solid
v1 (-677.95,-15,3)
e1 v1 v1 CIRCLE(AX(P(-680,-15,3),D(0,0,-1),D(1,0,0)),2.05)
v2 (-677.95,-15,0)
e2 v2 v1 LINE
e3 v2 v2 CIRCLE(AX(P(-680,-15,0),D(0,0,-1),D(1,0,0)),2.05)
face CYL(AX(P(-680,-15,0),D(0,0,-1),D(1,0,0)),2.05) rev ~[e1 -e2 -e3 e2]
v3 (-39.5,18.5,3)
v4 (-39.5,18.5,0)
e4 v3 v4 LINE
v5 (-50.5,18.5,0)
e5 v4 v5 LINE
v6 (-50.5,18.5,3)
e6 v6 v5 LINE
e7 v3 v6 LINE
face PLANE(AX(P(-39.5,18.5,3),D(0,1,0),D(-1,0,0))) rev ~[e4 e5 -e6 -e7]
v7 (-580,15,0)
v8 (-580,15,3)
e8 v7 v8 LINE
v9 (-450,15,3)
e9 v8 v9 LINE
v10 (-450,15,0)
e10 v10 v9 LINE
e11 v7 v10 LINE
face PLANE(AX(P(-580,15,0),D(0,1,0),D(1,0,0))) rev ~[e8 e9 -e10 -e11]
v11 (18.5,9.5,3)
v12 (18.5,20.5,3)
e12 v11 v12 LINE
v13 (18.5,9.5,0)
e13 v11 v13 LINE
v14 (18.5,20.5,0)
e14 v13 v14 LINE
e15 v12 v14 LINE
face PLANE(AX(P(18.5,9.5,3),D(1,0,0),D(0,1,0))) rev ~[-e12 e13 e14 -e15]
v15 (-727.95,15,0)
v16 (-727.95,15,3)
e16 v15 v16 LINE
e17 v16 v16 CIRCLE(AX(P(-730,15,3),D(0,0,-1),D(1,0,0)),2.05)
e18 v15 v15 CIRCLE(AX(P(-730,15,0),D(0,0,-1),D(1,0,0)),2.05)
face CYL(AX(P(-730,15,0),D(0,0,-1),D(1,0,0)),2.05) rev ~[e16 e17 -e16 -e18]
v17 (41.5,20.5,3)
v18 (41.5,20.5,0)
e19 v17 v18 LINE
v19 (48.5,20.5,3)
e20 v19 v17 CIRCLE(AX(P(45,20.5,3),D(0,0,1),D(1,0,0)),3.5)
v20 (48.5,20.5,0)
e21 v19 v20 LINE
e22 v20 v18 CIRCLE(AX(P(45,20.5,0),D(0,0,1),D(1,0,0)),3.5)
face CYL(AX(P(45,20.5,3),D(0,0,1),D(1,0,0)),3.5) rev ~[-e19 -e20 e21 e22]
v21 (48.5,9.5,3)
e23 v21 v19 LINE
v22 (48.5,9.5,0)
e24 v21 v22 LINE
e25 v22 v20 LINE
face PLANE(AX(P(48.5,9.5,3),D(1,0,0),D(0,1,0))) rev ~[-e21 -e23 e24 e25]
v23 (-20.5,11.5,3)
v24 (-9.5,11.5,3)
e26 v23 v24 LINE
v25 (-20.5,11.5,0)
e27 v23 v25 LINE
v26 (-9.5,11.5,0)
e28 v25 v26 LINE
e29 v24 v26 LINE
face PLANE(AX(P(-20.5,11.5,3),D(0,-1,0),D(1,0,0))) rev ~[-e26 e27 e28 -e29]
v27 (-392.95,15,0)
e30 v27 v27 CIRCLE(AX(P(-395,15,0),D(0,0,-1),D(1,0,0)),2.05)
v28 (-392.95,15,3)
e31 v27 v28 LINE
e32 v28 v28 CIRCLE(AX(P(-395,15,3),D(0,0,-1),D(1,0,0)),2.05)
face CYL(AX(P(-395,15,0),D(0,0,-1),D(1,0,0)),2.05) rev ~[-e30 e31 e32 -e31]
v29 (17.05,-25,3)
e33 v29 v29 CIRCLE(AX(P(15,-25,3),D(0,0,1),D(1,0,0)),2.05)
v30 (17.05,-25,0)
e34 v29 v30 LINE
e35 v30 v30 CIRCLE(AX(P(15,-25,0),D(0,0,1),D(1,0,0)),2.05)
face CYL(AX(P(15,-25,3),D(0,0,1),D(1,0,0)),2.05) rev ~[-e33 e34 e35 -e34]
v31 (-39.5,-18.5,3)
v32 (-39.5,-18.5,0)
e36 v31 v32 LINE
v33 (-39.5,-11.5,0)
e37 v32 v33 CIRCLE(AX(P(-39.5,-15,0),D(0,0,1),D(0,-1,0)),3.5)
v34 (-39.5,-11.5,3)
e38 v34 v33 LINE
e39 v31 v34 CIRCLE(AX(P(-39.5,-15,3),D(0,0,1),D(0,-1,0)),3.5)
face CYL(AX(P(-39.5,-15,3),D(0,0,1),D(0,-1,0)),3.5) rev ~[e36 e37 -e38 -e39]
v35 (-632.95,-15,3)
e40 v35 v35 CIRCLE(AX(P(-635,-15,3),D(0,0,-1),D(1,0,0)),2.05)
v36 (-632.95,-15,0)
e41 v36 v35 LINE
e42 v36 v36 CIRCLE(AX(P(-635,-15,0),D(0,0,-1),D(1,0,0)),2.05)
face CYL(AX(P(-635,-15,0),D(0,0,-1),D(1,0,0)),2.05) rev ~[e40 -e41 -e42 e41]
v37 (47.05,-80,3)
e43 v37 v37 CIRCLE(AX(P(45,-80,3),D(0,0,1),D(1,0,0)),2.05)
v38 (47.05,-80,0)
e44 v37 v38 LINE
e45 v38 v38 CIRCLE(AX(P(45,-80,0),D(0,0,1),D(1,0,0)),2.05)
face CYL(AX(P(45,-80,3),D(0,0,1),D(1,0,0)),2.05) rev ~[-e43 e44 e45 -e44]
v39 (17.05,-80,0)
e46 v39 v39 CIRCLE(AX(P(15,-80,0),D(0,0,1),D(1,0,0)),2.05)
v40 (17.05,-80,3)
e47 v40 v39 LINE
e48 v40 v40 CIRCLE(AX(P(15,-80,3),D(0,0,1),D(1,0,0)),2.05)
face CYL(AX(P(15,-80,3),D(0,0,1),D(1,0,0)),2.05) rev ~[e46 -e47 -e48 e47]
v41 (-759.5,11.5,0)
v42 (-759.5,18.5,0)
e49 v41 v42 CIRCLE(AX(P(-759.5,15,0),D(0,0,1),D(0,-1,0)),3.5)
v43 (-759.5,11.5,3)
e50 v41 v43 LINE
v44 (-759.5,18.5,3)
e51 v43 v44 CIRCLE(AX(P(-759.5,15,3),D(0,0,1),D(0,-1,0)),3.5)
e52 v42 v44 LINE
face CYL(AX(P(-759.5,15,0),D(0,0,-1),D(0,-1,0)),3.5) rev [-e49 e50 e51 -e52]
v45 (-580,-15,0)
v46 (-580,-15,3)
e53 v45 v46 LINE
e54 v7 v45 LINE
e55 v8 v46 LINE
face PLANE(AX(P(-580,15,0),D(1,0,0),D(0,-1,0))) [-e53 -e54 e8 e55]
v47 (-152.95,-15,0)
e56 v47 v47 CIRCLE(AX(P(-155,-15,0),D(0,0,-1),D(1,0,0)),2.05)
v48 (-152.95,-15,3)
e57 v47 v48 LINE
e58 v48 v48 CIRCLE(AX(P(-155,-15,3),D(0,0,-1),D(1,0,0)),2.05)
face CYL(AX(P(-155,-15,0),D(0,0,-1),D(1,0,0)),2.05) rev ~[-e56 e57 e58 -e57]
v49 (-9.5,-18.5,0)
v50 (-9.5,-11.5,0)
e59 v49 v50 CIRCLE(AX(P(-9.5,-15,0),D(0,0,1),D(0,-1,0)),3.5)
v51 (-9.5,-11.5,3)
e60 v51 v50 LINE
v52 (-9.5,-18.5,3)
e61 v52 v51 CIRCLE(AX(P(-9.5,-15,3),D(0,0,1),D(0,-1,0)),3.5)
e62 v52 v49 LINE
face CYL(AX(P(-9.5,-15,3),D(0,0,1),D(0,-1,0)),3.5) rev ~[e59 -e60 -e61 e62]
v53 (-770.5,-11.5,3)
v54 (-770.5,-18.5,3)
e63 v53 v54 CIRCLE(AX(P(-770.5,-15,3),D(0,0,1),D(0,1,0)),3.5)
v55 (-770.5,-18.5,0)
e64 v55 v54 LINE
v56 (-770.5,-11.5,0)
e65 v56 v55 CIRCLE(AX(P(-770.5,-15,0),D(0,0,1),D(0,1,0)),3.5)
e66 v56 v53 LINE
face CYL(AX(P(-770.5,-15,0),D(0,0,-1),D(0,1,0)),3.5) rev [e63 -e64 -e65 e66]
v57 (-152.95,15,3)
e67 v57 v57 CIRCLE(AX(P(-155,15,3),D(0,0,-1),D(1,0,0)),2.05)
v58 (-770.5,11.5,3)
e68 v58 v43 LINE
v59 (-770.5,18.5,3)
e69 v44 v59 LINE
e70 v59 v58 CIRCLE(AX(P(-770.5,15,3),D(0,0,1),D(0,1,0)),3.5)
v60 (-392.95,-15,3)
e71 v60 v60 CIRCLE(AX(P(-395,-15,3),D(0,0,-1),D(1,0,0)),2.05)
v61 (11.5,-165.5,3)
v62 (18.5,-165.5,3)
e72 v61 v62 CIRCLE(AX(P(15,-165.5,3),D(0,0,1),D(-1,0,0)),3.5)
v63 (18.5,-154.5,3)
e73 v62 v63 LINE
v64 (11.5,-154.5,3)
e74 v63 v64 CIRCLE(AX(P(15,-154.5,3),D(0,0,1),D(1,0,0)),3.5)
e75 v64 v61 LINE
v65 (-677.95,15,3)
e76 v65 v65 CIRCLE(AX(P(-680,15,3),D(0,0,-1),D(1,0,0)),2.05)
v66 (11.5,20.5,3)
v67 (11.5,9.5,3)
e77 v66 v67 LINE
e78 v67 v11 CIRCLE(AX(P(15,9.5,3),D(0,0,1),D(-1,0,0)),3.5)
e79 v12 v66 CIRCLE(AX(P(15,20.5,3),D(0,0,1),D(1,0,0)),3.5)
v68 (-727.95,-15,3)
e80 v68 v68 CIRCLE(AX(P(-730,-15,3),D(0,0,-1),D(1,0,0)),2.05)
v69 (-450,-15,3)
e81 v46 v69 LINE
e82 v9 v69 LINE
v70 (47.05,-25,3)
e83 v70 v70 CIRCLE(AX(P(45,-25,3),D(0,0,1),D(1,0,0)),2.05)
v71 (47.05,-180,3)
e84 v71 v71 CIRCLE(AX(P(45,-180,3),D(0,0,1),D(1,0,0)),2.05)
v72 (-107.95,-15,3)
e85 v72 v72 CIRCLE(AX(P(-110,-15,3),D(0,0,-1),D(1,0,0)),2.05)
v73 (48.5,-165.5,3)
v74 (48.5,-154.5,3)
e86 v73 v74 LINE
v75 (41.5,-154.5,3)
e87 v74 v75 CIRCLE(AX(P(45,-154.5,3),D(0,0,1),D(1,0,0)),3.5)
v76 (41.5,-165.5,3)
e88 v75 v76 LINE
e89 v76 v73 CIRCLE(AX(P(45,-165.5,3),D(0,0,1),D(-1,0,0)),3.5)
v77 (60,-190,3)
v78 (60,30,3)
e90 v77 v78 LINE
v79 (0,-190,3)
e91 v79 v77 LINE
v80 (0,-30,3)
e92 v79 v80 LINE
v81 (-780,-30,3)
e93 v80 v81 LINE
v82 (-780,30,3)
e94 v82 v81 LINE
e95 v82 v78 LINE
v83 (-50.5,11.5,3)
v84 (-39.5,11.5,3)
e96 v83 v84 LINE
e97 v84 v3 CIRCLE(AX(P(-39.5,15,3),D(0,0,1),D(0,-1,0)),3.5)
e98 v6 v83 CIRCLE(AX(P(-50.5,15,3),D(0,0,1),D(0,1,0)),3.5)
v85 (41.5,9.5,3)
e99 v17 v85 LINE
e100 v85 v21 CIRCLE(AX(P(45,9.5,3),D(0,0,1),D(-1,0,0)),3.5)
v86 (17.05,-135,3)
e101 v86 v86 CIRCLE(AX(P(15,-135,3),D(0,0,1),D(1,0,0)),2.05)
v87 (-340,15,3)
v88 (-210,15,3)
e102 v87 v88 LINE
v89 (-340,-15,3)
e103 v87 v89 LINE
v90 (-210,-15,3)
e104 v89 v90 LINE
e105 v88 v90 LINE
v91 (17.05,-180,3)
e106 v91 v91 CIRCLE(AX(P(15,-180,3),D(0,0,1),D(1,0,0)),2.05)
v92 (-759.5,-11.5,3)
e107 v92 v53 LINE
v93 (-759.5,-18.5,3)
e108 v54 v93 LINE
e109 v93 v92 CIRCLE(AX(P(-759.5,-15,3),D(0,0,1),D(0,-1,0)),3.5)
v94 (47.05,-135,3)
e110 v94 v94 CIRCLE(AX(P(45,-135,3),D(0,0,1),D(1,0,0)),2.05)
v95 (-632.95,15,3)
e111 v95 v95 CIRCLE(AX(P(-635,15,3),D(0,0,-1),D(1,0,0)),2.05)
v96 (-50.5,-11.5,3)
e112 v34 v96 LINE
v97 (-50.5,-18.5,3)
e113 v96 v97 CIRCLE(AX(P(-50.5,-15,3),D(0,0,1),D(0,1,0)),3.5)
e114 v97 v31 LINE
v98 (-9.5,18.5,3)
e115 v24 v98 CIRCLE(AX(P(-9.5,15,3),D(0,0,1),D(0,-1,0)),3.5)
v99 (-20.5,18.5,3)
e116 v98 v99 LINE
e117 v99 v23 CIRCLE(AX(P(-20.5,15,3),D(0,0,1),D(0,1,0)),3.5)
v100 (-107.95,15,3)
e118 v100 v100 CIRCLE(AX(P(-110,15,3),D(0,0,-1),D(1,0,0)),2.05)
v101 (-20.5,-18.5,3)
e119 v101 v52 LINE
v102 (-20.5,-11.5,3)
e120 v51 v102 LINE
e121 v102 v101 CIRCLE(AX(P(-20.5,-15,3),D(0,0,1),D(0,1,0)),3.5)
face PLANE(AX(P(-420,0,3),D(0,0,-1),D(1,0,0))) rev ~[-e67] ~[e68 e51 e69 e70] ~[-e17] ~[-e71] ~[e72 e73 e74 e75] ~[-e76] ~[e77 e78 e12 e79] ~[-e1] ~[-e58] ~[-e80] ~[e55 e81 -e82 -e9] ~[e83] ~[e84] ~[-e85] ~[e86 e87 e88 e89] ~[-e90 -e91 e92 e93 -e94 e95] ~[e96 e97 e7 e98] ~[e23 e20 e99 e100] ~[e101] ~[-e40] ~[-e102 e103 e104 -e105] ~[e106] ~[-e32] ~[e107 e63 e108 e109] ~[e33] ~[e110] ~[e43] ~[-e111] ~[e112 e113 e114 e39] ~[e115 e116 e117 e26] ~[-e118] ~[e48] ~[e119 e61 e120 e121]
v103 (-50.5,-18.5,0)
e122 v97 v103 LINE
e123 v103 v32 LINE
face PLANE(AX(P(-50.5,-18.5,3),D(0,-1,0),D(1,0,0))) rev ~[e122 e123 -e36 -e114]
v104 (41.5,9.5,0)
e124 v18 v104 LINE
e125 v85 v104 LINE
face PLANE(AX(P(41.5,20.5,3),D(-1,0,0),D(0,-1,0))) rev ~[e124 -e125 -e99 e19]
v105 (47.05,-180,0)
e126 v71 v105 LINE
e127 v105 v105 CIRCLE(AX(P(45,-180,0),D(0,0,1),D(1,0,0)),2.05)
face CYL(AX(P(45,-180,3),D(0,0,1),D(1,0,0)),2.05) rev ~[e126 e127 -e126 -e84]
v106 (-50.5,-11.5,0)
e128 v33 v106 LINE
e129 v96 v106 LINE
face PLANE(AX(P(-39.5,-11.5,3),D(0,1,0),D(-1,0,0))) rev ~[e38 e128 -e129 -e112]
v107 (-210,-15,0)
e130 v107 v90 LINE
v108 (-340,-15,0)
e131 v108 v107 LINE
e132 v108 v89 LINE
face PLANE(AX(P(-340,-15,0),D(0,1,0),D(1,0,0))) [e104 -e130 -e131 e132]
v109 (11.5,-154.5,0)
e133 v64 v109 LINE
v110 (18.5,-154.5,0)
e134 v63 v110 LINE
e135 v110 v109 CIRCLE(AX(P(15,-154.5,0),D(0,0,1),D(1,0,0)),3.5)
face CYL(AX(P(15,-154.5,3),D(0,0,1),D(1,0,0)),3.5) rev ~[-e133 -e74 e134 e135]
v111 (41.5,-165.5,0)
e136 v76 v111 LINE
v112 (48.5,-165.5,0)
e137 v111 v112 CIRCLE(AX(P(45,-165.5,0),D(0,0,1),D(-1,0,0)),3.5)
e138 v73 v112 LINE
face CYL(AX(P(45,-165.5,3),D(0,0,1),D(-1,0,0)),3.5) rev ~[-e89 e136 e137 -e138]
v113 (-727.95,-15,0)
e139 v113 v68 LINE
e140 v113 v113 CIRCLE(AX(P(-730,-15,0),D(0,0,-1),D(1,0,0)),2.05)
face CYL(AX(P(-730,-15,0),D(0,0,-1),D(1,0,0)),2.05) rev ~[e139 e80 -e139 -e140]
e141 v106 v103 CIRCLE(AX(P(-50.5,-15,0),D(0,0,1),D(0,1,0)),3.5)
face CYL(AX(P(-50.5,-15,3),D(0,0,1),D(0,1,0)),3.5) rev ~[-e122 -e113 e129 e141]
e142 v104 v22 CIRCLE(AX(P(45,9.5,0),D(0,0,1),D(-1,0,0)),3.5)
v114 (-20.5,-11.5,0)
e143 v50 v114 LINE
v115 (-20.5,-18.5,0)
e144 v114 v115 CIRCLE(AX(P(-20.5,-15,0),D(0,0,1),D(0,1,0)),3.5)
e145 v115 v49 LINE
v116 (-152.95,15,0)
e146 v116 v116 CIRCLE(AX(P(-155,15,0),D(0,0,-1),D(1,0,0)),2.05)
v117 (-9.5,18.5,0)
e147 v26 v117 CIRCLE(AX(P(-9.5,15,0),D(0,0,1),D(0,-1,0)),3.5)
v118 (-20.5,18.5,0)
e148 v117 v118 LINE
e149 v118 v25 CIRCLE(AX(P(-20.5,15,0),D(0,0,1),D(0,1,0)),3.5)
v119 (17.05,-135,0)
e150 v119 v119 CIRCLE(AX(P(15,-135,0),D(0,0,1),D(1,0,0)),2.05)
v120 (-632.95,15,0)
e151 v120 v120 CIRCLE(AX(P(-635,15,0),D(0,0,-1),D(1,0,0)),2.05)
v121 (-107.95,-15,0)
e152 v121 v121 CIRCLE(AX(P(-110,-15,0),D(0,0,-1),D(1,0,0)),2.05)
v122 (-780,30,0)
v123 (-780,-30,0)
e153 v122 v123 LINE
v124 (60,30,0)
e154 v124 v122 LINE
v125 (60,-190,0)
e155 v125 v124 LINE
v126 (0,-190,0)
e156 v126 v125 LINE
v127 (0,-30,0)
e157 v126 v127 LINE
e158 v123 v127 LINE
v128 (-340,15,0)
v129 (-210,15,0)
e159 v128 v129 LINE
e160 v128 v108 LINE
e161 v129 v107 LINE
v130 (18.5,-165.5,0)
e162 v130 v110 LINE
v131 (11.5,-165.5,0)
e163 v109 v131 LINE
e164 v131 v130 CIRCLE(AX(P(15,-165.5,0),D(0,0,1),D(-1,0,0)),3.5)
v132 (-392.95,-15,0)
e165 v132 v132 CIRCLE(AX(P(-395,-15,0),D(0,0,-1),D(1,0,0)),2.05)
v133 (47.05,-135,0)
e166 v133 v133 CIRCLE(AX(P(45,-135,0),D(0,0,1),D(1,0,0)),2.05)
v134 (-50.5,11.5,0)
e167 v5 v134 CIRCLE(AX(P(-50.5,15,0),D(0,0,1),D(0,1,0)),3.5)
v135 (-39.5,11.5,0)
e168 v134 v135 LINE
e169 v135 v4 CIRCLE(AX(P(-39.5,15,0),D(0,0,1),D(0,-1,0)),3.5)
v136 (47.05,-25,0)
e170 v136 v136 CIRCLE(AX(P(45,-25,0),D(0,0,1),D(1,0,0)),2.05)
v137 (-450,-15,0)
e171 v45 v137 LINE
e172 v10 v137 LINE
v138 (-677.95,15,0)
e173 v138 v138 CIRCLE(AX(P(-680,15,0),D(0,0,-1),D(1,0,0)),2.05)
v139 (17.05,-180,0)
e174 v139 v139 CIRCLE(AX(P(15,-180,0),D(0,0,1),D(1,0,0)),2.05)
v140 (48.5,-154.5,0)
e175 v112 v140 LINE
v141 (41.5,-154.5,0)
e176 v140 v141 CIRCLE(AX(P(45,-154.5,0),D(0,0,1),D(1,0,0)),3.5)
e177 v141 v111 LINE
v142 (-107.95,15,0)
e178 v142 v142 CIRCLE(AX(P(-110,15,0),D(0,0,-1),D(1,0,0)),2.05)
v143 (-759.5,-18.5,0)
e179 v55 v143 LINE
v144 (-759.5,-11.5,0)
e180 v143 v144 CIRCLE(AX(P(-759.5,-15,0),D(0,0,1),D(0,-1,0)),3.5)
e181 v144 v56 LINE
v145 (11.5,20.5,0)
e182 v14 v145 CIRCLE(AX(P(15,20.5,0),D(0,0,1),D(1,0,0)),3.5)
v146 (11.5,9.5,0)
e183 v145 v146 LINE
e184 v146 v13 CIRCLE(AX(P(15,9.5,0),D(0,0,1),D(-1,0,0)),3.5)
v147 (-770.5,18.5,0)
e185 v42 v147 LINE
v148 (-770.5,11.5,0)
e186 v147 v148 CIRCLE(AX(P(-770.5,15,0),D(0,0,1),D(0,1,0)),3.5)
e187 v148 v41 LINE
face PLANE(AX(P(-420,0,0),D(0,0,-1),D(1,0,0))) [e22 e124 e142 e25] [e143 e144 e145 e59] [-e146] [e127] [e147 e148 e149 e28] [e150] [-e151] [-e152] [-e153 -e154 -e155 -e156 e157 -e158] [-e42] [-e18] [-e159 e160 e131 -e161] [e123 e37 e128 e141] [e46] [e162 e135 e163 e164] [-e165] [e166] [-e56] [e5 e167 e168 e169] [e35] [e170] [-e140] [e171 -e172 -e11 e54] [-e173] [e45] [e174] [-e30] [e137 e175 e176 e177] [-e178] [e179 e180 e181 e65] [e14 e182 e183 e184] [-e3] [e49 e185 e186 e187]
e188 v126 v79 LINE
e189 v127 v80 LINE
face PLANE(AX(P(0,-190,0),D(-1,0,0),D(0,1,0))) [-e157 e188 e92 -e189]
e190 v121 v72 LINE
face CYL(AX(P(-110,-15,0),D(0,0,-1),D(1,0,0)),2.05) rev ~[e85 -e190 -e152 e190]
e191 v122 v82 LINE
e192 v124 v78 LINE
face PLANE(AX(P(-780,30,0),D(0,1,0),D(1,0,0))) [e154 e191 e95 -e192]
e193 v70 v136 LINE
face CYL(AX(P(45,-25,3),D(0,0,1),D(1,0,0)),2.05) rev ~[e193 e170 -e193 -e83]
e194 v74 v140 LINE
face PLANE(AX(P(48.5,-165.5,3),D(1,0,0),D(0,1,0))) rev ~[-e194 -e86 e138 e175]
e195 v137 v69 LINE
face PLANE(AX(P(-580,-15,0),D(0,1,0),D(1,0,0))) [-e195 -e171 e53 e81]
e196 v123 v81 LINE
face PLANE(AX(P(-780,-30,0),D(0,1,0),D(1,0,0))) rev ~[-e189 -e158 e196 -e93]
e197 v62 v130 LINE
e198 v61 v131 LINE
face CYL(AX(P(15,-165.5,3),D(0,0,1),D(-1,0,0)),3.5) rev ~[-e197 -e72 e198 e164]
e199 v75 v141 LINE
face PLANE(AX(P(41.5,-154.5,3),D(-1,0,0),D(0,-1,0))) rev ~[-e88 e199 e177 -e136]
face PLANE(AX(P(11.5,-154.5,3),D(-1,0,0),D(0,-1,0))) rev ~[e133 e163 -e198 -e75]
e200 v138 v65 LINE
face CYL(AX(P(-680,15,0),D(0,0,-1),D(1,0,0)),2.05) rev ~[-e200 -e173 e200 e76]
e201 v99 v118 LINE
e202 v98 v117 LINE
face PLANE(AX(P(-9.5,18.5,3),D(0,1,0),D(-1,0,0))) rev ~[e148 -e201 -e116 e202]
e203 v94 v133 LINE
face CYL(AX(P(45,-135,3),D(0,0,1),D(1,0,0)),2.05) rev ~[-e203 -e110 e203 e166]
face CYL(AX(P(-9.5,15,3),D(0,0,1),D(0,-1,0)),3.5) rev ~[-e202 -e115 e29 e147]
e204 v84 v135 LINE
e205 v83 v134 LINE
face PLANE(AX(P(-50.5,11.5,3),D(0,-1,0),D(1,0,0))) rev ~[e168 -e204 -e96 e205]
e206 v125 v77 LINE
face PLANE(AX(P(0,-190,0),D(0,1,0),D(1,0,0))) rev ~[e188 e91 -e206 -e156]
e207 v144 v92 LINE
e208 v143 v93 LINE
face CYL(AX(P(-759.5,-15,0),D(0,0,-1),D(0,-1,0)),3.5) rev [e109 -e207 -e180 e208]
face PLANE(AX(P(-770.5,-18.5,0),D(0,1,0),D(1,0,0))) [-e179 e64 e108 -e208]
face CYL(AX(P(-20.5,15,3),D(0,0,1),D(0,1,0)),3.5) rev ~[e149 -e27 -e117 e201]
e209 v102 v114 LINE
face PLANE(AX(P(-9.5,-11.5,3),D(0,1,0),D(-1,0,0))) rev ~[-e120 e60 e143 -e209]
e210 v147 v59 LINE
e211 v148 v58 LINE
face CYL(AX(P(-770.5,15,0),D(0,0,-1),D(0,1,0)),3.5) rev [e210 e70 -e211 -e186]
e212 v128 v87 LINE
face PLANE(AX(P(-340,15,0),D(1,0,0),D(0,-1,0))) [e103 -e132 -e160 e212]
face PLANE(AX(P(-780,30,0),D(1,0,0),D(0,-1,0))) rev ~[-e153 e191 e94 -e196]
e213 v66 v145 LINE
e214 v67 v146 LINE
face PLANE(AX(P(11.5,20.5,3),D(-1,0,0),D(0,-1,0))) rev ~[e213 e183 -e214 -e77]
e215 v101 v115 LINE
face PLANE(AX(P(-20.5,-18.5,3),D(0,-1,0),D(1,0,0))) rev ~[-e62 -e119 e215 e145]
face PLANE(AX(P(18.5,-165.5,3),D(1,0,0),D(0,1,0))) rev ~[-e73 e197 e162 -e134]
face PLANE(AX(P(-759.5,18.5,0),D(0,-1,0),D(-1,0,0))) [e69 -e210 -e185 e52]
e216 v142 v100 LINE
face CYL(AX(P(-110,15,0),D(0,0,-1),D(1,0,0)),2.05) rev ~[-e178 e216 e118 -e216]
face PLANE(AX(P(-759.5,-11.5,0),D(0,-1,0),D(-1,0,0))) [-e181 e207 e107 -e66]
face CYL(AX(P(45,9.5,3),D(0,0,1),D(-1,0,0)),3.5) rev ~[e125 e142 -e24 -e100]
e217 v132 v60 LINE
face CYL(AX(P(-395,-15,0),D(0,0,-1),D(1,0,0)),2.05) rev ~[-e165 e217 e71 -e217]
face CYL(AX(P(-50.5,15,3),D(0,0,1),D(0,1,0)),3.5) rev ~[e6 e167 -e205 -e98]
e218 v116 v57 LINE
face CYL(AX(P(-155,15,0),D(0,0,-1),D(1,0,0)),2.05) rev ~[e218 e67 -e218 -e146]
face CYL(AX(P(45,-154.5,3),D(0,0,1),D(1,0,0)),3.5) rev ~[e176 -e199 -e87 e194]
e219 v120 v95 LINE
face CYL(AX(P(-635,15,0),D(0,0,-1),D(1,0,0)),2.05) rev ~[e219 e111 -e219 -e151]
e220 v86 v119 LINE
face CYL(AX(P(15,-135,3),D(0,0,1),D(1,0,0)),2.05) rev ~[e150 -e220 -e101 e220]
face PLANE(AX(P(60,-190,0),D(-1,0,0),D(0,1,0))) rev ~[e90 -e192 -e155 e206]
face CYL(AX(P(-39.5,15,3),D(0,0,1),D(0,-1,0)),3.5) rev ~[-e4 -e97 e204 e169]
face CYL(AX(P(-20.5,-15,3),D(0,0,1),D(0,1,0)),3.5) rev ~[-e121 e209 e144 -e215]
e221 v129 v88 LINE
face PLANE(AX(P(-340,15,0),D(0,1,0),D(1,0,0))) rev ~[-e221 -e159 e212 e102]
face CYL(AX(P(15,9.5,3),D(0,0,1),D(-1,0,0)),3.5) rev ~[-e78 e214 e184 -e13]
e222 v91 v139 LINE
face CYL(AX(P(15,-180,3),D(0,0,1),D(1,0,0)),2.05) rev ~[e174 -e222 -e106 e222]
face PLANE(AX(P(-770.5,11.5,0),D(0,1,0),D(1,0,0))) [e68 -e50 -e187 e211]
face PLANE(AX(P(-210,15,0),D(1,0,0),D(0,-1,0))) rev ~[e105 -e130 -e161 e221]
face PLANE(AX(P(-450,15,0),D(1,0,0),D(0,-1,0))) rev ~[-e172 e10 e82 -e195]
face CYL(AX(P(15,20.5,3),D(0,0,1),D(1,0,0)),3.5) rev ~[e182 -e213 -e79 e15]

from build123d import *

# Parameters (mm, degrees)
F0_W     = 60
F0_H     = 160
F1_DEPTH = 3
F2_R     = 2.05
F3_DEPTH = 3
F4_W     = 720
F4_H     = 60
F4_R     = 2.05
F5_DEPTH = 3
F6_W     = 130
F6_H     = 30
F7_DEPTH = 25


with BuildPart() as f1:
    # F0 (on Top) → F1 (new body)
    with BuildSketch(Plane.XY):
        with Locations((30, -110)):
            Rectangle(F0_W, F0_H)
        Polygon((0, -30), (60, -30), (60, 30), (-60, 30), (-60, -30), align=None)
    extrude(amount=F1_DEPTH)

    # F2 (on face) → F3 (cut)
    with BuildSketch(Plane.XY.offset(3)):
        with BuildLine():
            Line((-50.5, 11.5), (-39.5, 11.5))
            ThreePointArc((-39.5, 11.5), (-36, 15), (-39.5, 18.5))
            Line((-39.5, 18.5), (-50.5, 18.5))
            ThreePointArc((-50.5, 18.5), (-54, 15), (-50.5, 11.5))
        make_face()
        with BuildLine():
            ThreePointArc((-20.5, 18.5), (-24, 15), (-20.5, 11.5))
            Line((-20.5, 11.5), (-9.5, 11.5))
            ThreePointArc((-9.5, 11.5), (-6, 15), (-9.5, 18.5))
            Line((-9.5, 18.5), (-20.5, 18.5))
        make_face()
        with BuildLine():
            ThreePointArc((-50.5, -11.5), (-54, -15), (-50.5, -18.5))
            Line((-50.5, -18.5), (-39.5, -18.5))
            ThreePointArc((-39.5, -18.5), (-36, -15), (-39.5, -11.5))
            Line((-39.5, -11.5), (-50.5, -11.5))
        make_face()
        with BuildLine():
            ThreePointArc((-20.5, -11.5), (-24, -15), (-20.5, -18.5))
            Line((-20.5, -18.5), (-9.5, -18.5))
            ThreePointArc((-9.5, -18.5), (-6, -15), (-9.5, -11.5))
            Line((-9.5, -11.5), (-20.5, -11.5))
        make_face()
        with BuildLine():
            ThreePointArc((41.5, -165.5), (45, -169), (48.5, -165.5))
            Line((48.5, -165.5), (48.5, -154.5))
            ThreePointArc((48.5, -154.5), (45, -151), (41.5, -154.5))
            Line((41.5, -154.5), (41.5, -165.5))
        make_face()
        with BuildLine():
            ThreePointArc((11.5, -165.5), (15, -169), (18.5, -165.5))
            Line((18.5, -165.5), (18.5, -154.5))
            ThreePointArc((18.5, -154.5), (15, -151), (11.5, -154.5))
            Line((11.5, -154.5), (11.5, -165.5))
        make_face()
        with Locations((15, -180)):
            Circle(F2_R)
        with Locations((45, -180)):
            Circle(F2_R)
        with Locations((15, -135)):
            Circle(F2_R)
        with Locations((45, -135)):
            Circle(F2_R)
        with BuildLine():
            ThreePointArc((41.5, 9.5), (45, 6), (48.5, 9.5))
            Line((48.5, 9.5), (48.5, 20.5))
            ThreePointArc((48.5, 20.5), (45, 24), (41.5, 20.5))
            Line((41.5, 20.5), (41.5, 9.5))
        make_face()
        with BuildLine():
            ThreePointArc((11.5, 9.5), (15, 6), (18.5, 9.5))
            Line((18.5, 9.5), (18.5, 20.5))
            ThreePointArc((18.5, 20.5), (15, 24), (11.5, 20.5))
            Line((11.5, 20.5), (11.5, 9.5))
        make_face()
        with Locations((15, -25)):
            Circle(F2_R)
        with Locations((45, -25)):
            Circle(F2_R)
        with Locations((45, -80)):
            Circle(F2_R)
        with Locations((15, -80)):
            Circle(F2_R)
    extrude(amount=-F3_DEPTH, mode=Mode.SUBTRACT)

    # F4 (on face) → F5 (join)
    with BuildSketch(Plane(origin=(0, 0, 0), x_dir=(1, 0, 0), z_dir=(0, 0, -1))):
        with Locations((-420, 0)):
            Rectangle(F4_W, F4_H)
        with BuildLine():
            ThreePointArc((-759.5, -11.5), (-756, -15), (-759.5, -18.5))
            Line((-759.5, -18.5), (-770.5, -18.5))
            ThreePointArc((-770.5, -18.5), (-774, -15), (-770.5, -11.5))
            Line((-770.5, -11.5), (-759.5, -11.5))
        make_face(mode=Mode.SUBTRACT)
        with Locations((-730, -15)):
            Circle(F4_R, mode=Mode.SUBTRACT)
        with Locations((-680, -15)):
            Circle(F4_R, mode=Mode.SUBTRACT)
        with Locations((-635, -15)):
            Circle(F4_R, mode=Mode.SUBTRACT)
        with Locations((-395, -15)):
            Circle(F4_R, mode=Mode.SUBTRACT)
        with Locations((-155, -15)):
            Circle(F4_R, mode=Mode.SUBTRACT)
        with Locations((-110, -15)):
            Circle(F4_R, mode=Mode.SUBTRACT)
        with BuildLine():
            ThreePointArc((-759.5, 18.5), (-756, 15), (-759.5, 11.5))
            Line((-759.5, 11.5), (-770.5, 11.5))
            ThreePointArc((-770.5, 11.5), (-774, 15), (-770.5, 18.5))
            Line((-770.5, 18.5), (-759.5, 18.5))
        make_face(mode=Mode.SUBTRACT)
        with Locations((-730, 15)):
            Circle(F4_R, mode=Mode.SUBTRACT)
        with Locations((-680, 15)):
            Circle(F4_R, mode=Mode.SUBTRACT)
        with Locations((-635, 15)):
            Circle(F4_R, mode=Mode.SUBTRACT)
        with Locations((-395, 15)):
            Circle(F4_R, mode=Mode.SUBTRACT)
        with Locations((-155, 15)):
            Circle(F4_R, mode=Mode.SUBTRACT)
        with Locations((-110, 15)):
            Circle(F4_R, mode=Mode.SUBTRACT)
    extrude(amount=-F5_DEPTH)

    # F6 (on face) → F7 (cut)
    with BuildSketch(Plane(origin=(0, 0, 0), x_dir=(1, 0, 0), z_dir=(0, 0, -1))):
        with Locations((-515, 0)):
            Rectangle(F6_W, F6_H)
        with Locations((-275, 0)):
            Rectangle(F6_W, F6_H)
    extrude(amount=-F7_DEPTH, mode=Mode.SUBTRACT)


solid = f1.part
